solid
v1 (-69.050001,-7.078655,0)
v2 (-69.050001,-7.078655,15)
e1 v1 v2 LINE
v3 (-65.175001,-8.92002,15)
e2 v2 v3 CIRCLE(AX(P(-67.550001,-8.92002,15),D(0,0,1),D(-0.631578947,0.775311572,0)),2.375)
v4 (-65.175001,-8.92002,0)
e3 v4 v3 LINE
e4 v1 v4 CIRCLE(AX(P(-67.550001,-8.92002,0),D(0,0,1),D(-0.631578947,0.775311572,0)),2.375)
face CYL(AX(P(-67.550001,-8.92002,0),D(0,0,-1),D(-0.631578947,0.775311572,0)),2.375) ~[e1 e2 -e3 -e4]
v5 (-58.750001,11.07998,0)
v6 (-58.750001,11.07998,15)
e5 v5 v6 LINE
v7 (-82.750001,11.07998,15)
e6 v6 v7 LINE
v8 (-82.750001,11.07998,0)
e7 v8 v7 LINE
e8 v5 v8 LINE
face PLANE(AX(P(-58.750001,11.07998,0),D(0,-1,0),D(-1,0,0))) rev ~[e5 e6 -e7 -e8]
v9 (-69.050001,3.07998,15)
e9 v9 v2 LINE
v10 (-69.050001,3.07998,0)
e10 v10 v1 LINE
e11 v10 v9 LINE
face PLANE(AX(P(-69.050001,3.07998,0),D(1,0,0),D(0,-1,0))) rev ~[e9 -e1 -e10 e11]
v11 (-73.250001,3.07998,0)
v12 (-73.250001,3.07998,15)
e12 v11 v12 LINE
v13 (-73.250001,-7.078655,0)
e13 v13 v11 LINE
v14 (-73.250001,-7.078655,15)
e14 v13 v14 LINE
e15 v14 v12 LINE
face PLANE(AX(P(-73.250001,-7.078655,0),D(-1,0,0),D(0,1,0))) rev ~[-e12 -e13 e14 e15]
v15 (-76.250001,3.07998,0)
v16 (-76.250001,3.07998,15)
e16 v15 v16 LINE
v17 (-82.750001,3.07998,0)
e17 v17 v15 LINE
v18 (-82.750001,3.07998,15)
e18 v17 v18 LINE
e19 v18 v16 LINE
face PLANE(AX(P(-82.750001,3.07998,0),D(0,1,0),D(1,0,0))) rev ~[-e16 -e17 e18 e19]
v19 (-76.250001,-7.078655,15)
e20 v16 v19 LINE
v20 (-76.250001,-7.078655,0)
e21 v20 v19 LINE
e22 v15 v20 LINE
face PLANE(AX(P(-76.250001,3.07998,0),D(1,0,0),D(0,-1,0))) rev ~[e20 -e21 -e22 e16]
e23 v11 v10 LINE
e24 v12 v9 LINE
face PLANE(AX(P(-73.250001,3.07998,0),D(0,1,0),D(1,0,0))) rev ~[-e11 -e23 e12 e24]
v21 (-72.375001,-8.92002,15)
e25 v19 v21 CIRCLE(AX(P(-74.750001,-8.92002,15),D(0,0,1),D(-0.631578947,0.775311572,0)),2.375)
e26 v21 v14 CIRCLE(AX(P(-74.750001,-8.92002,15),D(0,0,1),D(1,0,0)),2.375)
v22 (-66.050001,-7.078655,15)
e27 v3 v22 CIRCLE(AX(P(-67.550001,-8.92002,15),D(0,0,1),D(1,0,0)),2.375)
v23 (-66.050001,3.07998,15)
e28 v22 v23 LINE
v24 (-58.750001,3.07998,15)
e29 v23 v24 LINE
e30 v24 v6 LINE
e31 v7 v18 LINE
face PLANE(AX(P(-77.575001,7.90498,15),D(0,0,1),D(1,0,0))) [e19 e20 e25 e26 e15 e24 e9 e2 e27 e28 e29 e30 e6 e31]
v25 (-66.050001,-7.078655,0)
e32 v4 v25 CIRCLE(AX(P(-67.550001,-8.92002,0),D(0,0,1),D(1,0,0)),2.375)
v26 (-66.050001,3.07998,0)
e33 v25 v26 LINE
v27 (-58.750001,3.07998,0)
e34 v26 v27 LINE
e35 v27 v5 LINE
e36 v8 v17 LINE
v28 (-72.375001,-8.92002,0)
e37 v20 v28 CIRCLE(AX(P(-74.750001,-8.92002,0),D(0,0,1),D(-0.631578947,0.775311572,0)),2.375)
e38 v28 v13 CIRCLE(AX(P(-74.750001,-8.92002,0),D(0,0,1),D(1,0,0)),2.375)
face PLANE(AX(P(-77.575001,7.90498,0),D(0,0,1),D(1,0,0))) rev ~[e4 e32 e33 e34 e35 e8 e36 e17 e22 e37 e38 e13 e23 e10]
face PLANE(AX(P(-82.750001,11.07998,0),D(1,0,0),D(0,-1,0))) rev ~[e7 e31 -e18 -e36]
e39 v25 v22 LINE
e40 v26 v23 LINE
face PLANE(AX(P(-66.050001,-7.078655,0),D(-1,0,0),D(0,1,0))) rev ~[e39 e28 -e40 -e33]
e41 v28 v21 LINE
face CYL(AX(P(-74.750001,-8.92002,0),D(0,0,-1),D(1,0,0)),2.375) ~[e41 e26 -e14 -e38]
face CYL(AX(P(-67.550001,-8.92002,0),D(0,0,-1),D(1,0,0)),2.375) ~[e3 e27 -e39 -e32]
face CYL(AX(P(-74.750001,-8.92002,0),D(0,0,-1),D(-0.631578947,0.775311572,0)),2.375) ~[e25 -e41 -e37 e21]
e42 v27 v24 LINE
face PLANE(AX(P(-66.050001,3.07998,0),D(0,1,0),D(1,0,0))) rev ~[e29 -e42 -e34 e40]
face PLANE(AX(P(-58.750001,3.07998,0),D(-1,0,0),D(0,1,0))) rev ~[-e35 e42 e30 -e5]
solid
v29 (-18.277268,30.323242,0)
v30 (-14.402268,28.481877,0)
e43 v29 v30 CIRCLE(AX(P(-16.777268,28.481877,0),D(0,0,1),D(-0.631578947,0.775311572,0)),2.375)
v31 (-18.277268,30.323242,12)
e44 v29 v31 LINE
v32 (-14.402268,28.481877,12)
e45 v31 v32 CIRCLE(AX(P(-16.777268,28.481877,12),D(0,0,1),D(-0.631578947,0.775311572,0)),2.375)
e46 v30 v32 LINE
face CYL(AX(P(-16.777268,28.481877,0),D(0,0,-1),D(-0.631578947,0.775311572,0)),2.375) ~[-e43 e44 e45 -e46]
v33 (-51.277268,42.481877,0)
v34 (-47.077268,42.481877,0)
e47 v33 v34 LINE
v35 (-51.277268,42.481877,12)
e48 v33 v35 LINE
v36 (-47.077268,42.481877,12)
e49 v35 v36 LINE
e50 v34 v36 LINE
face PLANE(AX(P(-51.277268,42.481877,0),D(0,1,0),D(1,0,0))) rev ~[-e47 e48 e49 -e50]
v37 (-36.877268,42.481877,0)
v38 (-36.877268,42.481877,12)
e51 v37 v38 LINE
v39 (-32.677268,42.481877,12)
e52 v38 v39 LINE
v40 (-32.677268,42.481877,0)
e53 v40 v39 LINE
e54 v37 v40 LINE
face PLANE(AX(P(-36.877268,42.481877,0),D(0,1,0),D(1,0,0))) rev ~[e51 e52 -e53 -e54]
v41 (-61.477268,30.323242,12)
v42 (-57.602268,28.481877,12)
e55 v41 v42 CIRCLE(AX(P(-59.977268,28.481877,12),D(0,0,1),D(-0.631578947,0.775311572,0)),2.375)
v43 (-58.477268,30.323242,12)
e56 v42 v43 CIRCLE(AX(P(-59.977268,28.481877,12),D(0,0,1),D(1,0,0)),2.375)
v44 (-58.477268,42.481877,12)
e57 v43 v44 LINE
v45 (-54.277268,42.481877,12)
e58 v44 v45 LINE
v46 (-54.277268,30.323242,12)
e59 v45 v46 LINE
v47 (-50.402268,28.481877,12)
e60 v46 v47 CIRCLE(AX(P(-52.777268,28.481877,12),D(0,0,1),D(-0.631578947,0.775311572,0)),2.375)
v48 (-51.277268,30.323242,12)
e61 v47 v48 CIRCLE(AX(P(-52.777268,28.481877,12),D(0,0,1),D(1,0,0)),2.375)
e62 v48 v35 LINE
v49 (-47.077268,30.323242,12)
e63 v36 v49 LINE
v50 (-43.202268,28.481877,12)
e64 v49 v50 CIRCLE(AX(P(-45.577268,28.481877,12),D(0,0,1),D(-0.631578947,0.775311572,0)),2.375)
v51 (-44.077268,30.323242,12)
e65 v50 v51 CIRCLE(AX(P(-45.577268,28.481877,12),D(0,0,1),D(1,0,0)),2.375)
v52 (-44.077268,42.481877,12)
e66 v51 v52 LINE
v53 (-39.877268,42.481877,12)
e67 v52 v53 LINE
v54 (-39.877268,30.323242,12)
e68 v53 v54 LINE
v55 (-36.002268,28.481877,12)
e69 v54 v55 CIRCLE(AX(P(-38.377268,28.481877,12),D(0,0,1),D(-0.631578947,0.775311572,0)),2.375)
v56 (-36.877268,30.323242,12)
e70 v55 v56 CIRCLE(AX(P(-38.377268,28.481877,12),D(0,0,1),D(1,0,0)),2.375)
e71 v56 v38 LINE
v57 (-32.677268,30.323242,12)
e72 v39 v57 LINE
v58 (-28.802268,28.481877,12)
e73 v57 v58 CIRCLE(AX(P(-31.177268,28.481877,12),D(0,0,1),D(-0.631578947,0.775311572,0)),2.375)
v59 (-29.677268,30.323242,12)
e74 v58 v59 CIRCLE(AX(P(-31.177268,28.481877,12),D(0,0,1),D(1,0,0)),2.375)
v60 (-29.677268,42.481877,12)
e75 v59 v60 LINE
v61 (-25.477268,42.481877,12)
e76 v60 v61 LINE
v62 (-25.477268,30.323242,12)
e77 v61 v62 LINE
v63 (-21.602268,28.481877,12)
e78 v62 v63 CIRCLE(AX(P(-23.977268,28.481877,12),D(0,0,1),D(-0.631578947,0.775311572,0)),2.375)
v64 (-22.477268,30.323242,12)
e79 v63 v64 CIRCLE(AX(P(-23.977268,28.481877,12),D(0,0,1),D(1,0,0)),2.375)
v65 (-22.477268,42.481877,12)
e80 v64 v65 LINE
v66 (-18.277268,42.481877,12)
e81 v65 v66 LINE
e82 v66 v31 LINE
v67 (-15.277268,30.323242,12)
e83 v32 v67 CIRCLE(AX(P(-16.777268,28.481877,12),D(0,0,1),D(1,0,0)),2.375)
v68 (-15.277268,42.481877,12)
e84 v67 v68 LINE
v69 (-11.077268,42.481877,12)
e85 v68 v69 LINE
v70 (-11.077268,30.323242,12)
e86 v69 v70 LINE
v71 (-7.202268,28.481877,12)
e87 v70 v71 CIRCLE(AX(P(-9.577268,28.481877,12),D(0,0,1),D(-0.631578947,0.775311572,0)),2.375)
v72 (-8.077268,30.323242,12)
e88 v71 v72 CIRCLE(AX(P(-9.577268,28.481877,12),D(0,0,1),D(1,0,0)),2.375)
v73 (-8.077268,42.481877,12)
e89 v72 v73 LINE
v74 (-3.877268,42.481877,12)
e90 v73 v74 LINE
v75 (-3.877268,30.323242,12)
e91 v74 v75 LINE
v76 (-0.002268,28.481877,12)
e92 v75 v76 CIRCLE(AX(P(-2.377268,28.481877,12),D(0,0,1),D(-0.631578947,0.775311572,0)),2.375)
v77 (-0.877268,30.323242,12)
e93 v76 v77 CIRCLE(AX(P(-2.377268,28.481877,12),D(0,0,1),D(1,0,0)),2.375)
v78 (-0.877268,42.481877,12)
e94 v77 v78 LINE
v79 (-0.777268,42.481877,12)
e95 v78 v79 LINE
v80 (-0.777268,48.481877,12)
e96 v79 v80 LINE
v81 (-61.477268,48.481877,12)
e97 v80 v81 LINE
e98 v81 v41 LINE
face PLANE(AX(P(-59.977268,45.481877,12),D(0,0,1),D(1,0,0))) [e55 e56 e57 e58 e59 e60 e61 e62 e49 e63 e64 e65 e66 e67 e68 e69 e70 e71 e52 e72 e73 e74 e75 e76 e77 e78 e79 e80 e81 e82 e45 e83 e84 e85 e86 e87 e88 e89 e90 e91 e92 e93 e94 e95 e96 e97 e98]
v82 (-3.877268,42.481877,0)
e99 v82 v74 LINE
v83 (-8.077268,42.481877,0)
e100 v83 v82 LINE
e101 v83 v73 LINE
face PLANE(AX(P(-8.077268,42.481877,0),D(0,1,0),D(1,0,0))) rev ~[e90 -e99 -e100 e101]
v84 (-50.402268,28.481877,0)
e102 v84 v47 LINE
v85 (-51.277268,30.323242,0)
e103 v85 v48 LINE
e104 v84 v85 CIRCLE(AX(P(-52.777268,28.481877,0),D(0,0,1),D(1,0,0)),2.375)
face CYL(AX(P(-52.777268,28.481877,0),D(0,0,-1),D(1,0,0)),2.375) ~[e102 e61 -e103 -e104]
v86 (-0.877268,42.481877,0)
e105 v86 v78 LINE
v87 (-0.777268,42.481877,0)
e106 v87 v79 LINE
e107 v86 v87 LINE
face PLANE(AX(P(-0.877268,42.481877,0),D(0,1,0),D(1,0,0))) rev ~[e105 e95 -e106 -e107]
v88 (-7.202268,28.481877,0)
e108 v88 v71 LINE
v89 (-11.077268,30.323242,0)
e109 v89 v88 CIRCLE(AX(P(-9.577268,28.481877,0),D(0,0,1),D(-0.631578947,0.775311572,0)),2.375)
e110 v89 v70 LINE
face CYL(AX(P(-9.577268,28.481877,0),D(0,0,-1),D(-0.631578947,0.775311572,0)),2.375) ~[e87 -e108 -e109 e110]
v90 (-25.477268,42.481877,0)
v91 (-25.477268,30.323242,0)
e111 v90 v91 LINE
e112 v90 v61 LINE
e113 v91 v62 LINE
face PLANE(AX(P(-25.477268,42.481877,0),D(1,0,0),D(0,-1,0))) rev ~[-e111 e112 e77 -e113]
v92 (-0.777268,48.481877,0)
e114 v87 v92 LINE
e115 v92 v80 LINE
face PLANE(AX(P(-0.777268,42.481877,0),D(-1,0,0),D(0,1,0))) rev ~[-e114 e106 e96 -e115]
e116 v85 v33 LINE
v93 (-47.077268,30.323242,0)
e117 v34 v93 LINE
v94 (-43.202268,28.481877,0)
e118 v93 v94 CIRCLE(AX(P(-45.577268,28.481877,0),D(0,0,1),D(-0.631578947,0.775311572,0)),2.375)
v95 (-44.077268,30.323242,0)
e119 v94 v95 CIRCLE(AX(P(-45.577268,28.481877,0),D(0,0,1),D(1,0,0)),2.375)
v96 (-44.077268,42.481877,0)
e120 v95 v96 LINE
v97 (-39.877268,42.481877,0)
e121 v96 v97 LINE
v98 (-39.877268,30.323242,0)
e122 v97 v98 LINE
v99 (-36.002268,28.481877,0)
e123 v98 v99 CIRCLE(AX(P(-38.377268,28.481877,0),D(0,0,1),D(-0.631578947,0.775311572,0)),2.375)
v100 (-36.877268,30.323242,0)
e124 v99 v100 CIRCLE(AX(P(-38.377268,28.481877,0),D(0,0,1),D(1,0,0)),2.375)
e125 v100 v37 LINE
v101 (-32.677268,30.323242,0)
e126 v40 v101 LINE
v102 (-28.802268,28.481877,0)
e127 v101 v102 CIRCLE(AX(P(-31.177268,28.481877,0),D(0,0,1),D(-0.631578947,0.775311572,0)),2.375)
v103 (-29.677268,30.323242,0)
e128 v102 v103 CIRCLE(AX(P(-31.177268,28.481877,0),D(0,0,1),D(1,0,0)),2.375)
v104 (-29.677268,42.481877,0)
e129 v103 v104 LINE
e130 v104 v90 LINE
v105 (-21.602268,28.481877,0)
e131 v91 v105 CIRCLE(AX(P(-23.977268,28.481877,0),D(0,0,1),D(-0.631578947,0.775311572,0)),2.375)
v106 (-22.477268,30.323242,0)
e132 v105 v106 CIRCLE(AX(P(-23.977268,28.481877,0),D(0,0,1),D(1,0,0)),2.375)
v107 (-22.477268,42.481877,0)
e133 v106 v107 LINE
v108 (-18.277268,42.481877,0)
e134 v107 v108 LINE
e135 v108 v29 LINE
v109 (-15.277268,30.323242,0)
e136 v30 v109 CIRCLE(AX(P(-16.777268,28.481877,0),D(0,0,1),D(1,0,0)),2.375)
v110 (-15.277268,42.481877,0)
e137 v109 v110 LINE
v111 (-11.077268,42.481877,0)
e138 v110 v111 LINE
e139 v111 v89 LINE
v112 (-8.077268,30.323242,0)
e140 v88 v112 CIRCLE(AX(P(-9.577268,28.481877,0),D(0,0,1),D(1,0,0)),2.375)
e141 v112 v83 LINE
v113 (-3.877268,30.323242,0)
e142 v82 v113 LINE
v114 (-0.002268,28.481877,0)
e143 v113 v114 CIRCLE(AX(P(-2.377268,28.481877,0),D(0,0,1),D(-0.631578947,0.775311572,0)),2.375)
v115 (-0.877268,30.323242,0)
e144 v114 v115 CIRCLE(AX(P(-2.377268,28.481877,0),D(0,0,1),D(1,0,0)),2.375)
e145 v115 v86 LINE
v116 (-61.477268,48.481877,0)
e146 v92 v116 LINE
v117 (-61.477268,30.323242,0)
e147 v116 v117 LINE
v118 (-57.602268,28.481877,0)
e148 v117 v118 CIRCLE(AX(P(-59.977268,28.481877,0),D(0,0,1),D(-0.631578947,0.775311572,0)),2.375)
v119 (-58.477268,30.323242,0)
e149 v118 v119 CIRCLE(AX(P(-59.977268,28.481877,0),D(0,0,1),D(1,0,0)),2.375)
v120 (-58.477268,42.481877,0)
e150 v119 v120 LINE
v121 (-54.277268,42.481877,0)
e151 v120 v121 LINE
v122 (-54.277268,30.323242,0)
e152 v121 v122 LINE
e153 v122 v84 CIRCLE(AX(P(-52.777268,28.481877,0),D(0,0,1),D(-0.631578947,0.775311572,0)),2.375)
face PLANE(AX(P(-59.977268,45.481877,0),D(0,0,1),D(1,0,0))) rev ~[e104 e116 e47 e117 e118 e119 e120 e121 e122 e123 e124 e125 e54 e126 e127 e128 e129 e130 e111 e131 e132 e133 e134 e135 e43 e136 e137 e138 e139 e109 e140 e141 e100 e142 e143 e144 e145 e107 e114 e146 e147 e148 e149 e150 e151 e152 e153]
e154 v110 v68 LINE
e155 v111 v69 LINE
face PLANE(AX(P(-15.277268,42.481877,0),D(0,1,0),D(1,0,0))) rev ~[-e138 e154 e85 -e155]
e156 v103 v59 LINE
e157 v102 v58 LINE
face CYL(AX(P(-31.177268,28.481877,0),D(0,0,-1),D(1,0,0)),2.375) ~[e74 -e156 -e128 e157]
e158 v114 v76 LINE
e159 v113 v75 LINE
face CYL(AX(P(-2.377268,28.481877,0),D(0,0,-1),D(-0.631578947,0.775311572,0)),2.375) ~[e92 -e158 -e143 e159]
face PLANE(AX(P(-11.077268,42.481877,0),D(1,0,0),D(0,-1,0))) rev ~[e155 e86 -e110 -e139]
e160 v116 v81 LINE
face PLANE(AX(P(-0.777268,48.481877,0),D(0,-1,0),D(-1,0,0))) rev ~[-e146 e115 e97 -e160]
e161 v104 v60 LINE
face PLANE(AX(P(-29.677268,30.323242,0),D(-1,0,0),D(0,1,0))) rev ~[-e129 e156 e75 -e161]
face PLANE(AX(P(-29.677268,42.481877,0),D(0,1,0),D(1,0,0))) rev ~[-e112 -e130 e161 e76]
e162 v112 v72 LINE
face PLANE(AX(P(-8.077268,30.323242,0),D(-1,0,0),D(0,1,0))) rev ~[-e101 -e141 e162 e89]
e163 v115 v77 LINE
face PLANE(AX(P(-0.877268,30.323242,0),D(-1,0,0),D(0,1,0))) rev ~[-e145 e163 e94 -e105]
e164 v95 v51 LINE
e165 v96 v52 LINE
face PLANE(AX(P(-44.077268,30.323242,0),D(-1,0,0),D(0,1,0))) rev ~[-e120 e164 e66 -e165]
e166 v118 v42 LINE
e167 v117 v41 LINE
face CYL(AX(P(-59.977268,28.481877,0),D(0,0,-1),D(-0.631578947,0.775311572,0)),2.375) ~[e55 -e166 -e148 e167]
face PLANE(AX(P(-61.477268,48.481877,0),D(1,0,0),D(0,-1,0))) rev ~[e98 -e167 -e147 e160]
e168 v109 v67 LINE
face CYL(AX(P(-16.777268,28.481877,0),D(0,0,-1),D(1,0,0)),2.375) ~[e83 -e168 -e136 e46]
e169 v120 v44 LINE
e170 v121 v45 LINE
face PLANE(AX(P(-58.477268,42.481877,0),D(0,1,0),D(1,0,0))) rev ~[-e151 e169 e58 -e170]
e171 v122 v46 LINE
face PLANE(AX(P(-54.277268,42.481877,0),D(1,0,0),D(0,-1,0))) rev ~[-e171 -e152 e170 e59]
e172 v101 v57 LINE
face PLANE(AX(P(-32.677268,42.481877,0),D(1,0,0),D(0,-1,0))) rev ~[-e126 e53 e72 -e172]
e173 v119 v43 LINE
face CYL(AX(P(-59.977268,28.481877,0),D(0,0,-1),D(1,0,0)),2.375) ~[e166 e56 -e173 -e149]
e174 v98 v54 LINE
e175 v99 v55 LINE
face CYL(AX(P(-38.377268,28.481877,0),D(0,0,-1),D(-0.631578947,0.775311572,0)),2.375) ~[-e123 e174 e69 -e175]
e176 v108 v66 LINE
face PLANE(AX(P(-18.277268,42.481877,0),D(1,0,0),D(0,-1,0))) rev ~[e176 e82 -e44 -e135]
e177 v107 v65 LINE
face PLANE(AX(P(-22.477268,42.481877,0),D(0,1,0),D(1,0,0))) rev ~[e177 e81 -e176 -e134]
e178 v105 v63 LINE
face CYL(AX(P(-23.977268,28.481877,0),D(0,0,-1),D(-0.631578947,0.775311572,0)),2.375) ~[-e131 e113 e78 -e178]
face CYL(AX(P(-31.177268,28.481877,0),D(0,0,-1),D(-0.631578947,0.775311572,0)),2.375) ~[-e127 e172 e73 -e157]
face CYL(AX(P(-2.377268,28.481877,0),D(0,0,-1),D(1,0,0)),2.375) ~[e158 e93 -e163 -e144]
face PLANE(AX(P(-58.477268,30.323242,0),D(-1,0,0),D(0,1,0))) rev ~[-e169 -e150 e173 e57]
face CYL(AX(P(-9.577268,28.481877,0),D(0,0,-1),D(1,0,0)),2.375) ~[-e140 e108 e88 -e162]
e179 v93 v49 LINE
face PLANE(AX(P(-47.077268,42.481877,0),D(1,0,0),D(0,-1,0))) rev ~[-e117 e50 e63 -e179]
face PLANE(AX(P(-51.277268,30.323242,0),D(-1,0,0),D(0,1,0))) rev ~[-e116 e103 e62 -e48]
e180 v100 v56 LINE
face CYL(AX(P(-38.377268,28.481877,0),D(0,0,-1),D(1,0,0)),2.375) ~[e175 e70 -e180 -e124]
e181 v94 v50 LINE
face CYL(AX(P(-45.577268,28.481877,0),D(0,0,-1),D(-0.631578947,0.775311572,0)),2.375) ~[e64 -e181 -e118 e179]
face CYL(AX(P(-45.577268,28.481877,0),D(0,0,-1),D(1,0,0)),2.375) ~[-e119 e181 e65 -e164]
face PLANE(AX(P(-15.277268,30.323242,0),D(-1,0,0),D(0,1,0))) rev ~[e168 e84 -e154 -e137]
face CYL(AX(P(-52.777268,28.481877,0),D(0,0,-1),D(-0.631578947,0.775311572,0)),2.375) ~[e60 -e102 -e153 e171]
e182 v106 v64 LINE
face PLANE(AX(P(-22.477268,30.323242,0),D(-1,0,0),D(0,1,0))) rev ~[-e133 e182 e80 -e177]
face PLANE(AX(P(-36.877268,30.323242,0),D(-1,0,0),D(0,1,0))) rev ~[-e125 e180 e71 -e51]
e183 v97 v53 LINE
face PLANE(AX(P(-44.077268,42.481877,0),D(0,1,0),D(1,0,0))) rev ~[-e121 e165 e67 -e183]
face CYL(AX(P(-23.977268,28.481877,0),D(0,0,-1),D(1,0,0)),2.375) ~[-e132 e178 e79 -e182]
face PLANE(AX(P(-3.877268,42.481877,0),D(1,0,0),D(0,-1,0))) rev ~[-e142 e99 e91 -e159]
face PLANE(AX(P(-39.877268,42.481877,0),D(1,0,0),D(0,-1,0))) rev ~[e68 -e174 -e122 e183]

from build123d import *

# Parameters (mm, degrees)
F0_W     = 3
F0_H     = 6
F0_W_2   = 4.2
F0_W_3   = 0.1
F1_DEPTH = 12
F2_W     = 3
F2_H     = 6
F2_W_2   = 2.5
F2_W_3   = 1.7
F2_W_4   = 0.8
F3_DEPTH = 15


with BuildPart() as f1:
    # F0 (on Top) → F1 (new body)
    with BuildSketch(Plane.XY):
        with Locations((-59.9772681922, 45.4818769696)):
            Rectangle(F0_W, F0_H)
        with Locations((-56.3772681922, 45.4818769696)):
            Rectangle(F0_W_2, F0_H)
        with BuildLine():
            Line((-58.4772681922, 42.4818769696), (-61.4772681922, 42.4818769696))
            Line((-61.4772681922, 42.4818769696), (-61.4772681922, 30.3232419525))
            ThreePointArc((-61.4772681922, 30.3232419525), (-59.9772681922, 30.8568769696), (-58.4772681922, 30.3232419525))
            Line((-58.4772681922, 30.3232419525), (-58.4772681922, 42.4818769696))
        make_face()
        with Locations((-52.7772681922, 45.4818769696)):
            Rectangle(F0_W, F0_H)
        with BuildLine():
            ThreePointArc((-58.4772681922, 30.3232419525), (-59.9772681922, 30.8568769696), (-61.4772681922, 30.3232419525))
            Line((-61.4772681922, 30.3232419525), (-61.4772681922, 28.4818769696))
            Line((-61.4772681922, 28.4818769696), (-58.4772681922, 28.4818769696))
            Line((-58.4772681922, 28.4818769696), (-58.4772681922, 30.3232419525))
        make_face()
        with BuildLine():
            Line((-61.4772681922, 28.4818769696), (-61.4772681922, 30.3232419525))
            ThreePointArc((-61.4772681922, 30.3232419525), (-60.9966123441, 26.3367516819), (-57.6022681922, 28.4818769696))
            ThreePointArc((-57.6022681922, 28.4818769696), (-57.8321429045, 29.5012211215), (-58.4772681922, 30.3232419525))
            Line((-58.4772681922, 30.3232419525), (-58.4772681922, 28.4818769696))
            Line((-58.4772681922, 28.4818769696), (-61.4772681922, 28.4818769696))
        make_face()
        with Locations((-49.1772681922, 45.4818769696)):
            Rectangle(F0_W_2, F0_H)
        with BuildLine():
            Line((-51.2772681922, 42.4818769696), (-54.2772681922, 42.4818769696))
            Line((-54.2772681922, 42.4818769696), (-54.2772681922, 30.3232419525))
            ThreePointArc((-54.2772681922, 30.3232419525), (-52.7772681922, 30.8568769696), (-51.2772681922, 30.3232419525))
            Line((-51.2772681922, 30.3232419525), (-51.2772681922, 42.4818769696))
        make_face()
        with Locations((-45.5772681922, 45.4818769696)):
            Rectangle(F0_W, F0_H)
        with BuildLine():
            ThreePointArc((-51.2772681922, 30.3232419525), (-52.7772681922, 30.8568769696), (-54.2772681922, 30.3232419525))
            Line((-54.2772681922, 30.3232419525), (-54.2772681922, 28.4818769696))
            Line((-54.2772681922, 28.4818769696), (-51.2772681922, 28.4818769696))
            Line((-51.2772681922, 28.4818769696), (-51.2772681922, 30.3232419525))
        make_face()
        with BuildLine():
            Line((-54.2772681922, 28.4818769696), (-54.2772681922, 30.3232419525))
            ThreePointArc((-54.2772681922, 30.3232419525), (-53.7966123441, 26.3367516819), (-50.4022681922, 28.4818769696))
            ThreePointArc((-50.4022681922, 28.4818769696), (-50.6321429045, 29.5012211215), (-51.2772681922, 30.3232419525))
            Line((-51.2772681922, 30.3232419525), (-51.2772681922, 28.4818769696))
            Line((-51.2772681922, 28.4818769696), (-54.2772681922, 28.4818769696))
        make_face()
        with Locations((-41.9772681922, 45.4818769696)):
            Rectangle(F0_W_2, F0_H)
        with BuildLine():
            Line((-44.0772681922, 42.4818769696), (-47.0772681922, 42.4818769696))
            Line((-47.0772681922, 42.4818769696), (-47.0772681922, 30.3232419525))
            ThreePointArc((-47.0772681922, 30.3232419525), (-45.5772681922, 30.8568769696), (-44.0772681922, 30.3232419525))
            Line((-44.0772681922, 30.3232419525), (-44.0772681922, 42.4818769696))
        make_face()
        with Locations((-38.3772681922, 45.4818769696)):
            Rectangle(F0_W, F0_H)
        with BuildLine():
            ThreePointArc((-44.0772681922, 30.3232419525), (-45.5772681922, 30.8568769696), (-47.0772681922, 30.3232419525))
            Line((-47.0772681922, 30.3232419525), (-47.0772681922, 28.4818769696))
            Line((-47.0772681922, 28.4818769696), (-44.0772681922, 28.4818769696))
            Line((-44.0772681922, 28.4818769696), (-44.0772681922, 30.3232419525))
        make_face()
        with BuildLine():
            Line((-47.0772681922, 28.4818769696), (-47.0772681922, 30.3232419525))
            ThreePointArc((-47.0772681922, 30.3232419525), (-46.5966123441, 26.3367516819), (-43.2022681922, 28.4818769696))
            ThreePointArc((-43.2022681922, 28.4818769696), (-43.4321429045, 29.5012211215), (-44.0772681922, 30.3232419525))
            Line((-44.0772681922, 30.3232419525), (-44.0772681922, 28.4818769696))
            Line((-44.0772681922, 28.4818769696), (-47.0772681922, 28.4818769696))
        make_face()
        with Locations((-34.7772681922, 45.4818769696)):
            Rectangle(F0_W_2, F0_H)
        with BuildLine():
            Line((-36.8772681922, 42.4818769696), (-39.8772681922, 42.4818769696))
            Line((-39.8772681922, 42.4818769696), (-39.8772681922, 30.3232419525))
            ThreePointArc((-39.8772681922, 30.3232419525), (-38.3772681922, 30.8568769696), (-36.8772681922, 30.3232419525))
            Line((-36.8772681922, 30.3232419525), (-36.8772681922, 42.4818769696))
        make_face()
        with Locations((-31.1772681922, 45.4818769696)):
            Rectangle(F0_W, F0_H)
        with BuildLine():
            ThreePointArc((-36.8772681922, 30.3232419525), (-38.3772681922, 30.8568769696), (-39.8772681922, 30.3232419525))
            Line((-39.8772681922, 30.3232419525), (-39.8772681922, 28.4818769696))
            Line((-39.8772681922, 28.4818769696), (-36.8772681922, 28.4818769696))
            Line((-36.8772681922, 28.4818769696), (-36.8772681922, 30.3232419525))
        make_face()
        with BuildLine():
            Line((-39.8772681922, 28.4818769696), (-39.8772681922, 30.3232419525))
            ThreePointArc((-39.8772681922, 30.3232419525), (-39.3966123441, 26.3367516819), (-36.0022681922, 28.4818769696))
            ThreePointArc((-36.0022681922, 28.4818769696), (-36.2321429045, 29.5012211215), (-36.8772681922, 30.3232419525))
            Line((-36.8772681922, 30.3232419525), (-36.8772681922, 28.4818769696))
            Line((-36.8772681922, 28.4818769696), (-39.8772681922, 28.4818769696))
        make_face()
        with Locations((-27.5772681922, 45.4818769696)):
            Rectangle(F0_W_2, F0_H)
        with BuildLine():
            Line((-29.6772681922, 42.4818769696), (-32.6772681922, 42.4818769696))
            Line((-32.6772681922, 42.4818769696), (-32.6772681922, 30.3232419525))
            ThreePointArc((-32.6772681922, 30.3232419525), (-31.1772681922, 30.8568769696), (-29.6772681922, 30.3232419525))
            Line((-29.6772681922, 30.3232419525), (-29.6772681922, 42.4818769696))
        make_face()
        with Locations((-23.9772681922, 45.4818769696)):
            Rectangle(F0_W, F0_H)
        with BuildLine():
            ThreePointArc((-29.6772681922, 30.3232419525), (-31.1772681922, 30.8568769696), (-32.6772681922, 30.3232419525))
            Line((-32.6772681922, 30.3232419525), (-32.6772681922, 28.4818769696))
            Line((-32.6772681922, 28.4818769696), (-29.6772681922, 28.4818769696))
            Line((-29.6772681922, 28.4818769696), (-29.6772681922, 30.3232419525))
        make_face()
        with BuildLine():
            Line((-32.6772681922, 28.4818769696), (-32.6772681922, 30.3232419525))
            ThreePointArc((-32.6772681922, 30.3232419525), (-32.1966123441, 26.3367516819), (-28.8022681922, 28.4818769696))
            ThreePointArc((-28.8022681922, 28.4818769696), (-29.0321429045, 29.5012211215), (-29.6772681922, 30.3232419525))
            Line((-29.6772681922, 30.3232419525), (-29.6772681922, 28.4818769696))
            Line((-29.6772681922, 28.4818769696), (-32.6772681922, 28.4818769696))
        make_face()
        with Locations((-20.3772681922, 45.4818769696)):
            Rectangle(F0_W_2, F0_H)
        with BuildLine():
            Line((-22.4772681922, 42.4818769696), (-25.4772681922, 42.4818769696))
            Line((-25.4772681922, 42.4818769696), (-25.4772681922, 30.3232419525))
            ThreePointArc((-25.4772681922, 30.3232419525), (-23.9772681922, 30.8568769696), (-22.4772681922, 30.3232419525))
            Line((-22.4772681922, 30.3232419525), (-22.4772681922, 42.4818769696))
        make_face()
        with Locations((-16.7772681922, 45.4818769696)):
            Rectangle(F0_W, F0_H)
        with BuildLine():
            ThreePointArc((-22.4772681922, 30.3232419525), (-23.9772681922, 30.8568769696), (-25.4772681922, 30.3232419525))
            Line((-25.4772681922, 30.3232419525), (-25.4772681922, 28.4818769696))
            Line((-25.4772681922, 28.4818769696), (-22.4772681922, 28.4818769696))
            Line((-22.4772681922, 28.4818769696), (-22.4772681922, 30.3232419525))
        make_face()
        with BuildLine():
            Line((-25.4772681922, 28.4818769696), (-25.4772681922, 30.3232419525))
            ThreePointArc((-25.4772681922, 30.3232419525), (-24.9966123441, 26.3367516819), (-21.6022681922, 28.4818769696))
            ThreePointArc((-21.6022681922, 28.4818769696), (-21.8321429045, 29.5012211215), (-22.4772681922, 30.3232419525))
            Line((-22.4772681922, 30.3232419525), (-22.4772681922, 28.4818769696))
            Line((-22.4772681922, 28.4818769696), (-25.4772681922, 28.4818769696))
        make_face()
        with Locations((-13.1772681922, 45.4818769696)):
            Rectangle(F0_W_2, F0_H)
        with BuildLine():
            Line((-15.2772681922, 42.4818769696), (-18.2772681922, 42.4818769696))
            Line((-18.2772681922, 42.4818769696), (-18.2772681922, 30.3232419525))
            ThreePointArc((-18.2772681922, 30.3232419525), (-16.7772681922, 30.8568769696), (-15.2772681922, 30.3232419525))
            Line((-15.2772681922, 30.3232419525), (-15.2772681922, 42.4818769696))
        make_face()
        with Locations((-9.5772681922, 45.4818769696)):
            Rectangle(F0_W, F0_H)
        with BuildLine():
            ThreePointArc((-15.2772681922, 30.3232419525), (-16.7772681922, 30.8568769696), (-18.2772681922, 30.3232419525))
            Line((-18.2772681922, 30.3232419525), (-18.2772681922, 28.4818769696))
            Line((-18.2772681922, 28.4818769696), (-15.2772681922, 28.4818769696))
            Line((-15.2772681922, 28.4818769696), (-15.2772681922, 30.3232419525))
        make_face()
        with BuildLine():
            Line((-18.2772681922, 28.4818769696), (-18.2772681922, 30.3232419525))
            ThreePointArc((-18.2772681922, 30.3232419525), (-17.7966123441, 26.3367516819), (-14.4022681922, 28.4818769696))
            ThreePointArc((-14.4022681922, 28.4818769696), (-14.6321429045, 29.5012211215), (-15.2772681922, 30.3232419525))
            Line((-15.2772681922, 30.3232419525), (-15.2772681922, 28.4818769696))
            Line((-15.2772681922, 28.4818769696), (-18.2772681922, 28.4818769696))
        make_face()
        with Locations((-5.9772681922, 45.4818769696)):
            Rectangle(F0_W_2, F0_H)
        with BuildLine():
            Line((-8.0772681922, 42.4818769696), (-11.0772681922, 42.4818769696))
            Line((-11.0772681922, 42.4818769696), (-11.0772681922, 30.3232419525))
            ThreePointArc((-11.0772681922, 30.3232419525), (-9.5772681922, 30.8568769696), (-8.0772681922, 30.3232419525))
            Line((-8.0772681922, 30.3232419525), (-8.0772681922, 42.4818769696))
        make_face()
        with Locations((-2.3772681922, 45.4818769696)):
            Rectangle(F0_W, F0_H)
        with BuildLine():
            ThreePointArc((-8.0772681922, 30.3232419525), (-9.5772681922, 30.8568769696), (-11.0772681922, 30.3232419525))
            Line((-11.0772681922, 30.3232419525), (-11.0772681922, 28.4818769696))
            Line((-11.0772681922, 28.4818769696), (-8.0772681922, 28.4818769696))
            Line((-8.0772681922, 28.4818769696), (-8.0772681922, 30.3232419525))
        make_face()
        with BuildLine():
            Line((-11.0772681922, 28.4818769696), (-11.0772681922, 30.3232419525))
            ThreePointArc((-11.0772681922, 30.3232419525), (-10.5966123441, 26.3367516819), (-7.2022681922, 28.4818769696))
            ThreePointArc((-7.2022681922, 28.4818769696), (-7.4321429045, 29.5012211215), (-8.0772681922, 30.3232419525))
            Line((-8.0772681922, 30.3232419525), (-8.0772681922, 28.4818769696))
            Line((-8.0772681922, 28.4818769696), (-11.0772681922, 28.4818769696))
        make_face()
        with Locations((-0.8272681922, 45.4818769696)):
            Rectangle(F0_W_3, F0_H)
        with BuildLine():
            Line((-0.8772681922, 42.4818769696), (-3.8772681922, 42.4818769696))
            Line((-3.8772681922, 42.4818769696), (-3.8772681922, 30.3232419525))
            ThreePointArc((-3.8772681922, 30.3232419525), (-2.3772681922, 30.8568769696), (-0.8772681922, 30.3232419525))
            Line((-0.8772681922, 30.3232419525), (-0.8772681922, 42.4818769696))
        make_face()
        with BuildLine():
            ThreePointArc((-0.8772681922, 30.3232419525), (-2.3772681922, 30.8568769696), (-3.8772681922, 30.3232419525))
            Line((-3.8772681922, 30.3232419525), (-3.8772681922, 28.4818769696))
            Line((-3.8772681922, 28.4818769696), (-0.8772681922, 28.4818769696))
            Line((-0.8772681922, 28.4818769696), (-0.8772681922, 30.3232419525))
        make_face()
        with BuildLine():
            Line((-3.8772681922, 28.4818769696), (-3.8772681922, 30.3232419525))
            ThreePointArc((-3.8772681922, 30.3232419525), (-3.3966123441, 26.3367516819), (-0.0022681922, 28.4818769696))
            ThreePointArc((-0.0022681922, 28.4818769696), (-0.2321429045, 29.5012211215), (-0.8772681922, 30.3232419525))
            Line((-0.8772681922, 30.3232419525), (-0.8772681922, 28.4818769696))
            Line((-0.8772681922, 28.4818769696), (-3.8772681922, 28.4818769696))
        make_face()
    extrude(amount=F1_DEPTH)


with BuildPart() as f3:
    # F2 (on Top) → F3 (new body)
    with BuildSketch(Plane.XY):
        Polygon((-76.2500009537, 3.0799796343), (-76.2500009537, 9.0799796343), (-73.2500009537, 9.0799796343), (-70.7500009537, 9.0799796343), (-70.7500009537, 11.0799796343), (-82.7500009537, 11.0799796343), (-82.7500009537, 3.0799796343), align=None)
        with Locations((-74.7500009537, 6.0799796343)):
            Rectangle(F2_W, F2_H)
        with Locations((-72.0000009537, 6.0799796343)):
            Rectangle(F2_W_2, F2_H)
        with BuildLine():
            Line((-73.2500009537, 3.0799796343), (-76.2500009537, 3.0799796343))
            Line((-76.2500009537, 3.0799796343), (-76.2500009537, -7.0786553828))
            ThreePointArc((-76.2500009537, -7.0786553828), (-74.7500009537, -6.5450203657), (-73.2500009537, -7.0786553828))
            Line((-73.2500009537, -7.0786553828), (-73.2500009537, 3.0799796343))
        make_face()
        Polygon((-70.7500009537, 11.0799796343), (-70.7500009537, 9.0799796343), (-69.0500009537, 9.0799796343), (-66.0500009537, 9.0799796343), (-65.2500009537, 9.0799796343), (-65.2500009537, 3.0799796343), (-58.7500009537, 3.0799796343), (-58.7500009537, 11.0799796343), align=None)
        with Locations((-69.9000009537, 6.0799796343)):
            Rectangle(F2_W_3, F2_H)
        with BuildLine():
            ThreePointArc((-73.2500009537, -7.0786553828), (-74.7500009537, -6.5450203657), (-76.2500009537, -7.0786553828))
            Line((-76.2500009537, -7.0786553828), (-76.2500009537, -8.9200203657))
            Line((-76.2500009537, -8.9200203657), (-73.2500009537, -8.9200203657))
            Line((-73.2500009537, -8.9200203657), (-73.2500009537, -7.0786553828))
        make_face()
        with BuildLine():
            Line((-76.2500009537, -8.9200203657), (-76.2500009537, -7.0786553828))
            ThreePointArc((-76.2500009537, -7.0786553828), (-75.7693451056, -11.0651456534), (-72.3750009537, -8.9200203657))
            ThreePointArc((-72.3750009537, -8.9200203657), (-72.604875666, -7.9006762138), (-73.2500009537, -7.0786553828))
            Line((-73.2500009537, -7.0786553828), (-73.2500009537, -8.9200203657))
            Line((-73.2500009537, -8.9200203657), (-76.2500009537, -8.9200203657))
        make_face()
        with Locations((-67.5500009537, 6.0799796343)):
            Rectangle(F2_W, F2_H)
        with Locations((-65.6500009537, 6.0799796343)):
            Rectangle(F2_W_4, F2_H)
        with BuildLine():
            Line((-66.0500009537, 3.0799796343), (-69.0500009537, 3.0799796343))
            Line((-69.0500009537, 3.0799796343), (-69.0500009537, -7.0786553828))
            ThreePointArc((-69.0500009537, -7.0786553828), (-67.5500009537, -6.5450203657), (-66.0500009537, -7.0786553828))
            Line((-66.0500009537, -7.0786553828), (-66.0500009537, 3.0799796343))
        make_face()
        with BuildLine():
            ThreePointArc((-66.0500009537, -7.0786553828), (-67.5500009537, -6.5450203657), (-69.0500009537, -7.0786553828))
            Line((-69.0500009537, -7.0786553828), (-69.0500009537, -8.9200203657))
            Line((-69.0500009537, -8.9200203657), (-66.0500009537, -8.9200203657))
            Line((-66.0500009537, -8.9200203657), (-66.0500009537, -7.0786553828))
        make_face()
        with BuildLine():
            Line((-69.0500009537, -8.9200203657), (-69.0500009537, -7.0786553828))
            ThreePointArc((-69.0500009537, -7.0786553828), (-68.5693451056, -11.0651456534), (-65.1750009537, -8.9200203657))
            ThreePointArc((-65.1750009537, -8.9200203657), (-65.404875666, -7.9006762138), (-66.0500009537, -7.0786553828))
            Line((-66.0500009537, -7.0786553828), (-66.0500009537, -8.9200203657))
            Line((-66.0500009537, -8.9200203657), (-69.0500009537, -8.9200203657))
        make_face()
    extrude(amount=F3_DEPTH)


solid = Compound([f1.part, f3.part])
